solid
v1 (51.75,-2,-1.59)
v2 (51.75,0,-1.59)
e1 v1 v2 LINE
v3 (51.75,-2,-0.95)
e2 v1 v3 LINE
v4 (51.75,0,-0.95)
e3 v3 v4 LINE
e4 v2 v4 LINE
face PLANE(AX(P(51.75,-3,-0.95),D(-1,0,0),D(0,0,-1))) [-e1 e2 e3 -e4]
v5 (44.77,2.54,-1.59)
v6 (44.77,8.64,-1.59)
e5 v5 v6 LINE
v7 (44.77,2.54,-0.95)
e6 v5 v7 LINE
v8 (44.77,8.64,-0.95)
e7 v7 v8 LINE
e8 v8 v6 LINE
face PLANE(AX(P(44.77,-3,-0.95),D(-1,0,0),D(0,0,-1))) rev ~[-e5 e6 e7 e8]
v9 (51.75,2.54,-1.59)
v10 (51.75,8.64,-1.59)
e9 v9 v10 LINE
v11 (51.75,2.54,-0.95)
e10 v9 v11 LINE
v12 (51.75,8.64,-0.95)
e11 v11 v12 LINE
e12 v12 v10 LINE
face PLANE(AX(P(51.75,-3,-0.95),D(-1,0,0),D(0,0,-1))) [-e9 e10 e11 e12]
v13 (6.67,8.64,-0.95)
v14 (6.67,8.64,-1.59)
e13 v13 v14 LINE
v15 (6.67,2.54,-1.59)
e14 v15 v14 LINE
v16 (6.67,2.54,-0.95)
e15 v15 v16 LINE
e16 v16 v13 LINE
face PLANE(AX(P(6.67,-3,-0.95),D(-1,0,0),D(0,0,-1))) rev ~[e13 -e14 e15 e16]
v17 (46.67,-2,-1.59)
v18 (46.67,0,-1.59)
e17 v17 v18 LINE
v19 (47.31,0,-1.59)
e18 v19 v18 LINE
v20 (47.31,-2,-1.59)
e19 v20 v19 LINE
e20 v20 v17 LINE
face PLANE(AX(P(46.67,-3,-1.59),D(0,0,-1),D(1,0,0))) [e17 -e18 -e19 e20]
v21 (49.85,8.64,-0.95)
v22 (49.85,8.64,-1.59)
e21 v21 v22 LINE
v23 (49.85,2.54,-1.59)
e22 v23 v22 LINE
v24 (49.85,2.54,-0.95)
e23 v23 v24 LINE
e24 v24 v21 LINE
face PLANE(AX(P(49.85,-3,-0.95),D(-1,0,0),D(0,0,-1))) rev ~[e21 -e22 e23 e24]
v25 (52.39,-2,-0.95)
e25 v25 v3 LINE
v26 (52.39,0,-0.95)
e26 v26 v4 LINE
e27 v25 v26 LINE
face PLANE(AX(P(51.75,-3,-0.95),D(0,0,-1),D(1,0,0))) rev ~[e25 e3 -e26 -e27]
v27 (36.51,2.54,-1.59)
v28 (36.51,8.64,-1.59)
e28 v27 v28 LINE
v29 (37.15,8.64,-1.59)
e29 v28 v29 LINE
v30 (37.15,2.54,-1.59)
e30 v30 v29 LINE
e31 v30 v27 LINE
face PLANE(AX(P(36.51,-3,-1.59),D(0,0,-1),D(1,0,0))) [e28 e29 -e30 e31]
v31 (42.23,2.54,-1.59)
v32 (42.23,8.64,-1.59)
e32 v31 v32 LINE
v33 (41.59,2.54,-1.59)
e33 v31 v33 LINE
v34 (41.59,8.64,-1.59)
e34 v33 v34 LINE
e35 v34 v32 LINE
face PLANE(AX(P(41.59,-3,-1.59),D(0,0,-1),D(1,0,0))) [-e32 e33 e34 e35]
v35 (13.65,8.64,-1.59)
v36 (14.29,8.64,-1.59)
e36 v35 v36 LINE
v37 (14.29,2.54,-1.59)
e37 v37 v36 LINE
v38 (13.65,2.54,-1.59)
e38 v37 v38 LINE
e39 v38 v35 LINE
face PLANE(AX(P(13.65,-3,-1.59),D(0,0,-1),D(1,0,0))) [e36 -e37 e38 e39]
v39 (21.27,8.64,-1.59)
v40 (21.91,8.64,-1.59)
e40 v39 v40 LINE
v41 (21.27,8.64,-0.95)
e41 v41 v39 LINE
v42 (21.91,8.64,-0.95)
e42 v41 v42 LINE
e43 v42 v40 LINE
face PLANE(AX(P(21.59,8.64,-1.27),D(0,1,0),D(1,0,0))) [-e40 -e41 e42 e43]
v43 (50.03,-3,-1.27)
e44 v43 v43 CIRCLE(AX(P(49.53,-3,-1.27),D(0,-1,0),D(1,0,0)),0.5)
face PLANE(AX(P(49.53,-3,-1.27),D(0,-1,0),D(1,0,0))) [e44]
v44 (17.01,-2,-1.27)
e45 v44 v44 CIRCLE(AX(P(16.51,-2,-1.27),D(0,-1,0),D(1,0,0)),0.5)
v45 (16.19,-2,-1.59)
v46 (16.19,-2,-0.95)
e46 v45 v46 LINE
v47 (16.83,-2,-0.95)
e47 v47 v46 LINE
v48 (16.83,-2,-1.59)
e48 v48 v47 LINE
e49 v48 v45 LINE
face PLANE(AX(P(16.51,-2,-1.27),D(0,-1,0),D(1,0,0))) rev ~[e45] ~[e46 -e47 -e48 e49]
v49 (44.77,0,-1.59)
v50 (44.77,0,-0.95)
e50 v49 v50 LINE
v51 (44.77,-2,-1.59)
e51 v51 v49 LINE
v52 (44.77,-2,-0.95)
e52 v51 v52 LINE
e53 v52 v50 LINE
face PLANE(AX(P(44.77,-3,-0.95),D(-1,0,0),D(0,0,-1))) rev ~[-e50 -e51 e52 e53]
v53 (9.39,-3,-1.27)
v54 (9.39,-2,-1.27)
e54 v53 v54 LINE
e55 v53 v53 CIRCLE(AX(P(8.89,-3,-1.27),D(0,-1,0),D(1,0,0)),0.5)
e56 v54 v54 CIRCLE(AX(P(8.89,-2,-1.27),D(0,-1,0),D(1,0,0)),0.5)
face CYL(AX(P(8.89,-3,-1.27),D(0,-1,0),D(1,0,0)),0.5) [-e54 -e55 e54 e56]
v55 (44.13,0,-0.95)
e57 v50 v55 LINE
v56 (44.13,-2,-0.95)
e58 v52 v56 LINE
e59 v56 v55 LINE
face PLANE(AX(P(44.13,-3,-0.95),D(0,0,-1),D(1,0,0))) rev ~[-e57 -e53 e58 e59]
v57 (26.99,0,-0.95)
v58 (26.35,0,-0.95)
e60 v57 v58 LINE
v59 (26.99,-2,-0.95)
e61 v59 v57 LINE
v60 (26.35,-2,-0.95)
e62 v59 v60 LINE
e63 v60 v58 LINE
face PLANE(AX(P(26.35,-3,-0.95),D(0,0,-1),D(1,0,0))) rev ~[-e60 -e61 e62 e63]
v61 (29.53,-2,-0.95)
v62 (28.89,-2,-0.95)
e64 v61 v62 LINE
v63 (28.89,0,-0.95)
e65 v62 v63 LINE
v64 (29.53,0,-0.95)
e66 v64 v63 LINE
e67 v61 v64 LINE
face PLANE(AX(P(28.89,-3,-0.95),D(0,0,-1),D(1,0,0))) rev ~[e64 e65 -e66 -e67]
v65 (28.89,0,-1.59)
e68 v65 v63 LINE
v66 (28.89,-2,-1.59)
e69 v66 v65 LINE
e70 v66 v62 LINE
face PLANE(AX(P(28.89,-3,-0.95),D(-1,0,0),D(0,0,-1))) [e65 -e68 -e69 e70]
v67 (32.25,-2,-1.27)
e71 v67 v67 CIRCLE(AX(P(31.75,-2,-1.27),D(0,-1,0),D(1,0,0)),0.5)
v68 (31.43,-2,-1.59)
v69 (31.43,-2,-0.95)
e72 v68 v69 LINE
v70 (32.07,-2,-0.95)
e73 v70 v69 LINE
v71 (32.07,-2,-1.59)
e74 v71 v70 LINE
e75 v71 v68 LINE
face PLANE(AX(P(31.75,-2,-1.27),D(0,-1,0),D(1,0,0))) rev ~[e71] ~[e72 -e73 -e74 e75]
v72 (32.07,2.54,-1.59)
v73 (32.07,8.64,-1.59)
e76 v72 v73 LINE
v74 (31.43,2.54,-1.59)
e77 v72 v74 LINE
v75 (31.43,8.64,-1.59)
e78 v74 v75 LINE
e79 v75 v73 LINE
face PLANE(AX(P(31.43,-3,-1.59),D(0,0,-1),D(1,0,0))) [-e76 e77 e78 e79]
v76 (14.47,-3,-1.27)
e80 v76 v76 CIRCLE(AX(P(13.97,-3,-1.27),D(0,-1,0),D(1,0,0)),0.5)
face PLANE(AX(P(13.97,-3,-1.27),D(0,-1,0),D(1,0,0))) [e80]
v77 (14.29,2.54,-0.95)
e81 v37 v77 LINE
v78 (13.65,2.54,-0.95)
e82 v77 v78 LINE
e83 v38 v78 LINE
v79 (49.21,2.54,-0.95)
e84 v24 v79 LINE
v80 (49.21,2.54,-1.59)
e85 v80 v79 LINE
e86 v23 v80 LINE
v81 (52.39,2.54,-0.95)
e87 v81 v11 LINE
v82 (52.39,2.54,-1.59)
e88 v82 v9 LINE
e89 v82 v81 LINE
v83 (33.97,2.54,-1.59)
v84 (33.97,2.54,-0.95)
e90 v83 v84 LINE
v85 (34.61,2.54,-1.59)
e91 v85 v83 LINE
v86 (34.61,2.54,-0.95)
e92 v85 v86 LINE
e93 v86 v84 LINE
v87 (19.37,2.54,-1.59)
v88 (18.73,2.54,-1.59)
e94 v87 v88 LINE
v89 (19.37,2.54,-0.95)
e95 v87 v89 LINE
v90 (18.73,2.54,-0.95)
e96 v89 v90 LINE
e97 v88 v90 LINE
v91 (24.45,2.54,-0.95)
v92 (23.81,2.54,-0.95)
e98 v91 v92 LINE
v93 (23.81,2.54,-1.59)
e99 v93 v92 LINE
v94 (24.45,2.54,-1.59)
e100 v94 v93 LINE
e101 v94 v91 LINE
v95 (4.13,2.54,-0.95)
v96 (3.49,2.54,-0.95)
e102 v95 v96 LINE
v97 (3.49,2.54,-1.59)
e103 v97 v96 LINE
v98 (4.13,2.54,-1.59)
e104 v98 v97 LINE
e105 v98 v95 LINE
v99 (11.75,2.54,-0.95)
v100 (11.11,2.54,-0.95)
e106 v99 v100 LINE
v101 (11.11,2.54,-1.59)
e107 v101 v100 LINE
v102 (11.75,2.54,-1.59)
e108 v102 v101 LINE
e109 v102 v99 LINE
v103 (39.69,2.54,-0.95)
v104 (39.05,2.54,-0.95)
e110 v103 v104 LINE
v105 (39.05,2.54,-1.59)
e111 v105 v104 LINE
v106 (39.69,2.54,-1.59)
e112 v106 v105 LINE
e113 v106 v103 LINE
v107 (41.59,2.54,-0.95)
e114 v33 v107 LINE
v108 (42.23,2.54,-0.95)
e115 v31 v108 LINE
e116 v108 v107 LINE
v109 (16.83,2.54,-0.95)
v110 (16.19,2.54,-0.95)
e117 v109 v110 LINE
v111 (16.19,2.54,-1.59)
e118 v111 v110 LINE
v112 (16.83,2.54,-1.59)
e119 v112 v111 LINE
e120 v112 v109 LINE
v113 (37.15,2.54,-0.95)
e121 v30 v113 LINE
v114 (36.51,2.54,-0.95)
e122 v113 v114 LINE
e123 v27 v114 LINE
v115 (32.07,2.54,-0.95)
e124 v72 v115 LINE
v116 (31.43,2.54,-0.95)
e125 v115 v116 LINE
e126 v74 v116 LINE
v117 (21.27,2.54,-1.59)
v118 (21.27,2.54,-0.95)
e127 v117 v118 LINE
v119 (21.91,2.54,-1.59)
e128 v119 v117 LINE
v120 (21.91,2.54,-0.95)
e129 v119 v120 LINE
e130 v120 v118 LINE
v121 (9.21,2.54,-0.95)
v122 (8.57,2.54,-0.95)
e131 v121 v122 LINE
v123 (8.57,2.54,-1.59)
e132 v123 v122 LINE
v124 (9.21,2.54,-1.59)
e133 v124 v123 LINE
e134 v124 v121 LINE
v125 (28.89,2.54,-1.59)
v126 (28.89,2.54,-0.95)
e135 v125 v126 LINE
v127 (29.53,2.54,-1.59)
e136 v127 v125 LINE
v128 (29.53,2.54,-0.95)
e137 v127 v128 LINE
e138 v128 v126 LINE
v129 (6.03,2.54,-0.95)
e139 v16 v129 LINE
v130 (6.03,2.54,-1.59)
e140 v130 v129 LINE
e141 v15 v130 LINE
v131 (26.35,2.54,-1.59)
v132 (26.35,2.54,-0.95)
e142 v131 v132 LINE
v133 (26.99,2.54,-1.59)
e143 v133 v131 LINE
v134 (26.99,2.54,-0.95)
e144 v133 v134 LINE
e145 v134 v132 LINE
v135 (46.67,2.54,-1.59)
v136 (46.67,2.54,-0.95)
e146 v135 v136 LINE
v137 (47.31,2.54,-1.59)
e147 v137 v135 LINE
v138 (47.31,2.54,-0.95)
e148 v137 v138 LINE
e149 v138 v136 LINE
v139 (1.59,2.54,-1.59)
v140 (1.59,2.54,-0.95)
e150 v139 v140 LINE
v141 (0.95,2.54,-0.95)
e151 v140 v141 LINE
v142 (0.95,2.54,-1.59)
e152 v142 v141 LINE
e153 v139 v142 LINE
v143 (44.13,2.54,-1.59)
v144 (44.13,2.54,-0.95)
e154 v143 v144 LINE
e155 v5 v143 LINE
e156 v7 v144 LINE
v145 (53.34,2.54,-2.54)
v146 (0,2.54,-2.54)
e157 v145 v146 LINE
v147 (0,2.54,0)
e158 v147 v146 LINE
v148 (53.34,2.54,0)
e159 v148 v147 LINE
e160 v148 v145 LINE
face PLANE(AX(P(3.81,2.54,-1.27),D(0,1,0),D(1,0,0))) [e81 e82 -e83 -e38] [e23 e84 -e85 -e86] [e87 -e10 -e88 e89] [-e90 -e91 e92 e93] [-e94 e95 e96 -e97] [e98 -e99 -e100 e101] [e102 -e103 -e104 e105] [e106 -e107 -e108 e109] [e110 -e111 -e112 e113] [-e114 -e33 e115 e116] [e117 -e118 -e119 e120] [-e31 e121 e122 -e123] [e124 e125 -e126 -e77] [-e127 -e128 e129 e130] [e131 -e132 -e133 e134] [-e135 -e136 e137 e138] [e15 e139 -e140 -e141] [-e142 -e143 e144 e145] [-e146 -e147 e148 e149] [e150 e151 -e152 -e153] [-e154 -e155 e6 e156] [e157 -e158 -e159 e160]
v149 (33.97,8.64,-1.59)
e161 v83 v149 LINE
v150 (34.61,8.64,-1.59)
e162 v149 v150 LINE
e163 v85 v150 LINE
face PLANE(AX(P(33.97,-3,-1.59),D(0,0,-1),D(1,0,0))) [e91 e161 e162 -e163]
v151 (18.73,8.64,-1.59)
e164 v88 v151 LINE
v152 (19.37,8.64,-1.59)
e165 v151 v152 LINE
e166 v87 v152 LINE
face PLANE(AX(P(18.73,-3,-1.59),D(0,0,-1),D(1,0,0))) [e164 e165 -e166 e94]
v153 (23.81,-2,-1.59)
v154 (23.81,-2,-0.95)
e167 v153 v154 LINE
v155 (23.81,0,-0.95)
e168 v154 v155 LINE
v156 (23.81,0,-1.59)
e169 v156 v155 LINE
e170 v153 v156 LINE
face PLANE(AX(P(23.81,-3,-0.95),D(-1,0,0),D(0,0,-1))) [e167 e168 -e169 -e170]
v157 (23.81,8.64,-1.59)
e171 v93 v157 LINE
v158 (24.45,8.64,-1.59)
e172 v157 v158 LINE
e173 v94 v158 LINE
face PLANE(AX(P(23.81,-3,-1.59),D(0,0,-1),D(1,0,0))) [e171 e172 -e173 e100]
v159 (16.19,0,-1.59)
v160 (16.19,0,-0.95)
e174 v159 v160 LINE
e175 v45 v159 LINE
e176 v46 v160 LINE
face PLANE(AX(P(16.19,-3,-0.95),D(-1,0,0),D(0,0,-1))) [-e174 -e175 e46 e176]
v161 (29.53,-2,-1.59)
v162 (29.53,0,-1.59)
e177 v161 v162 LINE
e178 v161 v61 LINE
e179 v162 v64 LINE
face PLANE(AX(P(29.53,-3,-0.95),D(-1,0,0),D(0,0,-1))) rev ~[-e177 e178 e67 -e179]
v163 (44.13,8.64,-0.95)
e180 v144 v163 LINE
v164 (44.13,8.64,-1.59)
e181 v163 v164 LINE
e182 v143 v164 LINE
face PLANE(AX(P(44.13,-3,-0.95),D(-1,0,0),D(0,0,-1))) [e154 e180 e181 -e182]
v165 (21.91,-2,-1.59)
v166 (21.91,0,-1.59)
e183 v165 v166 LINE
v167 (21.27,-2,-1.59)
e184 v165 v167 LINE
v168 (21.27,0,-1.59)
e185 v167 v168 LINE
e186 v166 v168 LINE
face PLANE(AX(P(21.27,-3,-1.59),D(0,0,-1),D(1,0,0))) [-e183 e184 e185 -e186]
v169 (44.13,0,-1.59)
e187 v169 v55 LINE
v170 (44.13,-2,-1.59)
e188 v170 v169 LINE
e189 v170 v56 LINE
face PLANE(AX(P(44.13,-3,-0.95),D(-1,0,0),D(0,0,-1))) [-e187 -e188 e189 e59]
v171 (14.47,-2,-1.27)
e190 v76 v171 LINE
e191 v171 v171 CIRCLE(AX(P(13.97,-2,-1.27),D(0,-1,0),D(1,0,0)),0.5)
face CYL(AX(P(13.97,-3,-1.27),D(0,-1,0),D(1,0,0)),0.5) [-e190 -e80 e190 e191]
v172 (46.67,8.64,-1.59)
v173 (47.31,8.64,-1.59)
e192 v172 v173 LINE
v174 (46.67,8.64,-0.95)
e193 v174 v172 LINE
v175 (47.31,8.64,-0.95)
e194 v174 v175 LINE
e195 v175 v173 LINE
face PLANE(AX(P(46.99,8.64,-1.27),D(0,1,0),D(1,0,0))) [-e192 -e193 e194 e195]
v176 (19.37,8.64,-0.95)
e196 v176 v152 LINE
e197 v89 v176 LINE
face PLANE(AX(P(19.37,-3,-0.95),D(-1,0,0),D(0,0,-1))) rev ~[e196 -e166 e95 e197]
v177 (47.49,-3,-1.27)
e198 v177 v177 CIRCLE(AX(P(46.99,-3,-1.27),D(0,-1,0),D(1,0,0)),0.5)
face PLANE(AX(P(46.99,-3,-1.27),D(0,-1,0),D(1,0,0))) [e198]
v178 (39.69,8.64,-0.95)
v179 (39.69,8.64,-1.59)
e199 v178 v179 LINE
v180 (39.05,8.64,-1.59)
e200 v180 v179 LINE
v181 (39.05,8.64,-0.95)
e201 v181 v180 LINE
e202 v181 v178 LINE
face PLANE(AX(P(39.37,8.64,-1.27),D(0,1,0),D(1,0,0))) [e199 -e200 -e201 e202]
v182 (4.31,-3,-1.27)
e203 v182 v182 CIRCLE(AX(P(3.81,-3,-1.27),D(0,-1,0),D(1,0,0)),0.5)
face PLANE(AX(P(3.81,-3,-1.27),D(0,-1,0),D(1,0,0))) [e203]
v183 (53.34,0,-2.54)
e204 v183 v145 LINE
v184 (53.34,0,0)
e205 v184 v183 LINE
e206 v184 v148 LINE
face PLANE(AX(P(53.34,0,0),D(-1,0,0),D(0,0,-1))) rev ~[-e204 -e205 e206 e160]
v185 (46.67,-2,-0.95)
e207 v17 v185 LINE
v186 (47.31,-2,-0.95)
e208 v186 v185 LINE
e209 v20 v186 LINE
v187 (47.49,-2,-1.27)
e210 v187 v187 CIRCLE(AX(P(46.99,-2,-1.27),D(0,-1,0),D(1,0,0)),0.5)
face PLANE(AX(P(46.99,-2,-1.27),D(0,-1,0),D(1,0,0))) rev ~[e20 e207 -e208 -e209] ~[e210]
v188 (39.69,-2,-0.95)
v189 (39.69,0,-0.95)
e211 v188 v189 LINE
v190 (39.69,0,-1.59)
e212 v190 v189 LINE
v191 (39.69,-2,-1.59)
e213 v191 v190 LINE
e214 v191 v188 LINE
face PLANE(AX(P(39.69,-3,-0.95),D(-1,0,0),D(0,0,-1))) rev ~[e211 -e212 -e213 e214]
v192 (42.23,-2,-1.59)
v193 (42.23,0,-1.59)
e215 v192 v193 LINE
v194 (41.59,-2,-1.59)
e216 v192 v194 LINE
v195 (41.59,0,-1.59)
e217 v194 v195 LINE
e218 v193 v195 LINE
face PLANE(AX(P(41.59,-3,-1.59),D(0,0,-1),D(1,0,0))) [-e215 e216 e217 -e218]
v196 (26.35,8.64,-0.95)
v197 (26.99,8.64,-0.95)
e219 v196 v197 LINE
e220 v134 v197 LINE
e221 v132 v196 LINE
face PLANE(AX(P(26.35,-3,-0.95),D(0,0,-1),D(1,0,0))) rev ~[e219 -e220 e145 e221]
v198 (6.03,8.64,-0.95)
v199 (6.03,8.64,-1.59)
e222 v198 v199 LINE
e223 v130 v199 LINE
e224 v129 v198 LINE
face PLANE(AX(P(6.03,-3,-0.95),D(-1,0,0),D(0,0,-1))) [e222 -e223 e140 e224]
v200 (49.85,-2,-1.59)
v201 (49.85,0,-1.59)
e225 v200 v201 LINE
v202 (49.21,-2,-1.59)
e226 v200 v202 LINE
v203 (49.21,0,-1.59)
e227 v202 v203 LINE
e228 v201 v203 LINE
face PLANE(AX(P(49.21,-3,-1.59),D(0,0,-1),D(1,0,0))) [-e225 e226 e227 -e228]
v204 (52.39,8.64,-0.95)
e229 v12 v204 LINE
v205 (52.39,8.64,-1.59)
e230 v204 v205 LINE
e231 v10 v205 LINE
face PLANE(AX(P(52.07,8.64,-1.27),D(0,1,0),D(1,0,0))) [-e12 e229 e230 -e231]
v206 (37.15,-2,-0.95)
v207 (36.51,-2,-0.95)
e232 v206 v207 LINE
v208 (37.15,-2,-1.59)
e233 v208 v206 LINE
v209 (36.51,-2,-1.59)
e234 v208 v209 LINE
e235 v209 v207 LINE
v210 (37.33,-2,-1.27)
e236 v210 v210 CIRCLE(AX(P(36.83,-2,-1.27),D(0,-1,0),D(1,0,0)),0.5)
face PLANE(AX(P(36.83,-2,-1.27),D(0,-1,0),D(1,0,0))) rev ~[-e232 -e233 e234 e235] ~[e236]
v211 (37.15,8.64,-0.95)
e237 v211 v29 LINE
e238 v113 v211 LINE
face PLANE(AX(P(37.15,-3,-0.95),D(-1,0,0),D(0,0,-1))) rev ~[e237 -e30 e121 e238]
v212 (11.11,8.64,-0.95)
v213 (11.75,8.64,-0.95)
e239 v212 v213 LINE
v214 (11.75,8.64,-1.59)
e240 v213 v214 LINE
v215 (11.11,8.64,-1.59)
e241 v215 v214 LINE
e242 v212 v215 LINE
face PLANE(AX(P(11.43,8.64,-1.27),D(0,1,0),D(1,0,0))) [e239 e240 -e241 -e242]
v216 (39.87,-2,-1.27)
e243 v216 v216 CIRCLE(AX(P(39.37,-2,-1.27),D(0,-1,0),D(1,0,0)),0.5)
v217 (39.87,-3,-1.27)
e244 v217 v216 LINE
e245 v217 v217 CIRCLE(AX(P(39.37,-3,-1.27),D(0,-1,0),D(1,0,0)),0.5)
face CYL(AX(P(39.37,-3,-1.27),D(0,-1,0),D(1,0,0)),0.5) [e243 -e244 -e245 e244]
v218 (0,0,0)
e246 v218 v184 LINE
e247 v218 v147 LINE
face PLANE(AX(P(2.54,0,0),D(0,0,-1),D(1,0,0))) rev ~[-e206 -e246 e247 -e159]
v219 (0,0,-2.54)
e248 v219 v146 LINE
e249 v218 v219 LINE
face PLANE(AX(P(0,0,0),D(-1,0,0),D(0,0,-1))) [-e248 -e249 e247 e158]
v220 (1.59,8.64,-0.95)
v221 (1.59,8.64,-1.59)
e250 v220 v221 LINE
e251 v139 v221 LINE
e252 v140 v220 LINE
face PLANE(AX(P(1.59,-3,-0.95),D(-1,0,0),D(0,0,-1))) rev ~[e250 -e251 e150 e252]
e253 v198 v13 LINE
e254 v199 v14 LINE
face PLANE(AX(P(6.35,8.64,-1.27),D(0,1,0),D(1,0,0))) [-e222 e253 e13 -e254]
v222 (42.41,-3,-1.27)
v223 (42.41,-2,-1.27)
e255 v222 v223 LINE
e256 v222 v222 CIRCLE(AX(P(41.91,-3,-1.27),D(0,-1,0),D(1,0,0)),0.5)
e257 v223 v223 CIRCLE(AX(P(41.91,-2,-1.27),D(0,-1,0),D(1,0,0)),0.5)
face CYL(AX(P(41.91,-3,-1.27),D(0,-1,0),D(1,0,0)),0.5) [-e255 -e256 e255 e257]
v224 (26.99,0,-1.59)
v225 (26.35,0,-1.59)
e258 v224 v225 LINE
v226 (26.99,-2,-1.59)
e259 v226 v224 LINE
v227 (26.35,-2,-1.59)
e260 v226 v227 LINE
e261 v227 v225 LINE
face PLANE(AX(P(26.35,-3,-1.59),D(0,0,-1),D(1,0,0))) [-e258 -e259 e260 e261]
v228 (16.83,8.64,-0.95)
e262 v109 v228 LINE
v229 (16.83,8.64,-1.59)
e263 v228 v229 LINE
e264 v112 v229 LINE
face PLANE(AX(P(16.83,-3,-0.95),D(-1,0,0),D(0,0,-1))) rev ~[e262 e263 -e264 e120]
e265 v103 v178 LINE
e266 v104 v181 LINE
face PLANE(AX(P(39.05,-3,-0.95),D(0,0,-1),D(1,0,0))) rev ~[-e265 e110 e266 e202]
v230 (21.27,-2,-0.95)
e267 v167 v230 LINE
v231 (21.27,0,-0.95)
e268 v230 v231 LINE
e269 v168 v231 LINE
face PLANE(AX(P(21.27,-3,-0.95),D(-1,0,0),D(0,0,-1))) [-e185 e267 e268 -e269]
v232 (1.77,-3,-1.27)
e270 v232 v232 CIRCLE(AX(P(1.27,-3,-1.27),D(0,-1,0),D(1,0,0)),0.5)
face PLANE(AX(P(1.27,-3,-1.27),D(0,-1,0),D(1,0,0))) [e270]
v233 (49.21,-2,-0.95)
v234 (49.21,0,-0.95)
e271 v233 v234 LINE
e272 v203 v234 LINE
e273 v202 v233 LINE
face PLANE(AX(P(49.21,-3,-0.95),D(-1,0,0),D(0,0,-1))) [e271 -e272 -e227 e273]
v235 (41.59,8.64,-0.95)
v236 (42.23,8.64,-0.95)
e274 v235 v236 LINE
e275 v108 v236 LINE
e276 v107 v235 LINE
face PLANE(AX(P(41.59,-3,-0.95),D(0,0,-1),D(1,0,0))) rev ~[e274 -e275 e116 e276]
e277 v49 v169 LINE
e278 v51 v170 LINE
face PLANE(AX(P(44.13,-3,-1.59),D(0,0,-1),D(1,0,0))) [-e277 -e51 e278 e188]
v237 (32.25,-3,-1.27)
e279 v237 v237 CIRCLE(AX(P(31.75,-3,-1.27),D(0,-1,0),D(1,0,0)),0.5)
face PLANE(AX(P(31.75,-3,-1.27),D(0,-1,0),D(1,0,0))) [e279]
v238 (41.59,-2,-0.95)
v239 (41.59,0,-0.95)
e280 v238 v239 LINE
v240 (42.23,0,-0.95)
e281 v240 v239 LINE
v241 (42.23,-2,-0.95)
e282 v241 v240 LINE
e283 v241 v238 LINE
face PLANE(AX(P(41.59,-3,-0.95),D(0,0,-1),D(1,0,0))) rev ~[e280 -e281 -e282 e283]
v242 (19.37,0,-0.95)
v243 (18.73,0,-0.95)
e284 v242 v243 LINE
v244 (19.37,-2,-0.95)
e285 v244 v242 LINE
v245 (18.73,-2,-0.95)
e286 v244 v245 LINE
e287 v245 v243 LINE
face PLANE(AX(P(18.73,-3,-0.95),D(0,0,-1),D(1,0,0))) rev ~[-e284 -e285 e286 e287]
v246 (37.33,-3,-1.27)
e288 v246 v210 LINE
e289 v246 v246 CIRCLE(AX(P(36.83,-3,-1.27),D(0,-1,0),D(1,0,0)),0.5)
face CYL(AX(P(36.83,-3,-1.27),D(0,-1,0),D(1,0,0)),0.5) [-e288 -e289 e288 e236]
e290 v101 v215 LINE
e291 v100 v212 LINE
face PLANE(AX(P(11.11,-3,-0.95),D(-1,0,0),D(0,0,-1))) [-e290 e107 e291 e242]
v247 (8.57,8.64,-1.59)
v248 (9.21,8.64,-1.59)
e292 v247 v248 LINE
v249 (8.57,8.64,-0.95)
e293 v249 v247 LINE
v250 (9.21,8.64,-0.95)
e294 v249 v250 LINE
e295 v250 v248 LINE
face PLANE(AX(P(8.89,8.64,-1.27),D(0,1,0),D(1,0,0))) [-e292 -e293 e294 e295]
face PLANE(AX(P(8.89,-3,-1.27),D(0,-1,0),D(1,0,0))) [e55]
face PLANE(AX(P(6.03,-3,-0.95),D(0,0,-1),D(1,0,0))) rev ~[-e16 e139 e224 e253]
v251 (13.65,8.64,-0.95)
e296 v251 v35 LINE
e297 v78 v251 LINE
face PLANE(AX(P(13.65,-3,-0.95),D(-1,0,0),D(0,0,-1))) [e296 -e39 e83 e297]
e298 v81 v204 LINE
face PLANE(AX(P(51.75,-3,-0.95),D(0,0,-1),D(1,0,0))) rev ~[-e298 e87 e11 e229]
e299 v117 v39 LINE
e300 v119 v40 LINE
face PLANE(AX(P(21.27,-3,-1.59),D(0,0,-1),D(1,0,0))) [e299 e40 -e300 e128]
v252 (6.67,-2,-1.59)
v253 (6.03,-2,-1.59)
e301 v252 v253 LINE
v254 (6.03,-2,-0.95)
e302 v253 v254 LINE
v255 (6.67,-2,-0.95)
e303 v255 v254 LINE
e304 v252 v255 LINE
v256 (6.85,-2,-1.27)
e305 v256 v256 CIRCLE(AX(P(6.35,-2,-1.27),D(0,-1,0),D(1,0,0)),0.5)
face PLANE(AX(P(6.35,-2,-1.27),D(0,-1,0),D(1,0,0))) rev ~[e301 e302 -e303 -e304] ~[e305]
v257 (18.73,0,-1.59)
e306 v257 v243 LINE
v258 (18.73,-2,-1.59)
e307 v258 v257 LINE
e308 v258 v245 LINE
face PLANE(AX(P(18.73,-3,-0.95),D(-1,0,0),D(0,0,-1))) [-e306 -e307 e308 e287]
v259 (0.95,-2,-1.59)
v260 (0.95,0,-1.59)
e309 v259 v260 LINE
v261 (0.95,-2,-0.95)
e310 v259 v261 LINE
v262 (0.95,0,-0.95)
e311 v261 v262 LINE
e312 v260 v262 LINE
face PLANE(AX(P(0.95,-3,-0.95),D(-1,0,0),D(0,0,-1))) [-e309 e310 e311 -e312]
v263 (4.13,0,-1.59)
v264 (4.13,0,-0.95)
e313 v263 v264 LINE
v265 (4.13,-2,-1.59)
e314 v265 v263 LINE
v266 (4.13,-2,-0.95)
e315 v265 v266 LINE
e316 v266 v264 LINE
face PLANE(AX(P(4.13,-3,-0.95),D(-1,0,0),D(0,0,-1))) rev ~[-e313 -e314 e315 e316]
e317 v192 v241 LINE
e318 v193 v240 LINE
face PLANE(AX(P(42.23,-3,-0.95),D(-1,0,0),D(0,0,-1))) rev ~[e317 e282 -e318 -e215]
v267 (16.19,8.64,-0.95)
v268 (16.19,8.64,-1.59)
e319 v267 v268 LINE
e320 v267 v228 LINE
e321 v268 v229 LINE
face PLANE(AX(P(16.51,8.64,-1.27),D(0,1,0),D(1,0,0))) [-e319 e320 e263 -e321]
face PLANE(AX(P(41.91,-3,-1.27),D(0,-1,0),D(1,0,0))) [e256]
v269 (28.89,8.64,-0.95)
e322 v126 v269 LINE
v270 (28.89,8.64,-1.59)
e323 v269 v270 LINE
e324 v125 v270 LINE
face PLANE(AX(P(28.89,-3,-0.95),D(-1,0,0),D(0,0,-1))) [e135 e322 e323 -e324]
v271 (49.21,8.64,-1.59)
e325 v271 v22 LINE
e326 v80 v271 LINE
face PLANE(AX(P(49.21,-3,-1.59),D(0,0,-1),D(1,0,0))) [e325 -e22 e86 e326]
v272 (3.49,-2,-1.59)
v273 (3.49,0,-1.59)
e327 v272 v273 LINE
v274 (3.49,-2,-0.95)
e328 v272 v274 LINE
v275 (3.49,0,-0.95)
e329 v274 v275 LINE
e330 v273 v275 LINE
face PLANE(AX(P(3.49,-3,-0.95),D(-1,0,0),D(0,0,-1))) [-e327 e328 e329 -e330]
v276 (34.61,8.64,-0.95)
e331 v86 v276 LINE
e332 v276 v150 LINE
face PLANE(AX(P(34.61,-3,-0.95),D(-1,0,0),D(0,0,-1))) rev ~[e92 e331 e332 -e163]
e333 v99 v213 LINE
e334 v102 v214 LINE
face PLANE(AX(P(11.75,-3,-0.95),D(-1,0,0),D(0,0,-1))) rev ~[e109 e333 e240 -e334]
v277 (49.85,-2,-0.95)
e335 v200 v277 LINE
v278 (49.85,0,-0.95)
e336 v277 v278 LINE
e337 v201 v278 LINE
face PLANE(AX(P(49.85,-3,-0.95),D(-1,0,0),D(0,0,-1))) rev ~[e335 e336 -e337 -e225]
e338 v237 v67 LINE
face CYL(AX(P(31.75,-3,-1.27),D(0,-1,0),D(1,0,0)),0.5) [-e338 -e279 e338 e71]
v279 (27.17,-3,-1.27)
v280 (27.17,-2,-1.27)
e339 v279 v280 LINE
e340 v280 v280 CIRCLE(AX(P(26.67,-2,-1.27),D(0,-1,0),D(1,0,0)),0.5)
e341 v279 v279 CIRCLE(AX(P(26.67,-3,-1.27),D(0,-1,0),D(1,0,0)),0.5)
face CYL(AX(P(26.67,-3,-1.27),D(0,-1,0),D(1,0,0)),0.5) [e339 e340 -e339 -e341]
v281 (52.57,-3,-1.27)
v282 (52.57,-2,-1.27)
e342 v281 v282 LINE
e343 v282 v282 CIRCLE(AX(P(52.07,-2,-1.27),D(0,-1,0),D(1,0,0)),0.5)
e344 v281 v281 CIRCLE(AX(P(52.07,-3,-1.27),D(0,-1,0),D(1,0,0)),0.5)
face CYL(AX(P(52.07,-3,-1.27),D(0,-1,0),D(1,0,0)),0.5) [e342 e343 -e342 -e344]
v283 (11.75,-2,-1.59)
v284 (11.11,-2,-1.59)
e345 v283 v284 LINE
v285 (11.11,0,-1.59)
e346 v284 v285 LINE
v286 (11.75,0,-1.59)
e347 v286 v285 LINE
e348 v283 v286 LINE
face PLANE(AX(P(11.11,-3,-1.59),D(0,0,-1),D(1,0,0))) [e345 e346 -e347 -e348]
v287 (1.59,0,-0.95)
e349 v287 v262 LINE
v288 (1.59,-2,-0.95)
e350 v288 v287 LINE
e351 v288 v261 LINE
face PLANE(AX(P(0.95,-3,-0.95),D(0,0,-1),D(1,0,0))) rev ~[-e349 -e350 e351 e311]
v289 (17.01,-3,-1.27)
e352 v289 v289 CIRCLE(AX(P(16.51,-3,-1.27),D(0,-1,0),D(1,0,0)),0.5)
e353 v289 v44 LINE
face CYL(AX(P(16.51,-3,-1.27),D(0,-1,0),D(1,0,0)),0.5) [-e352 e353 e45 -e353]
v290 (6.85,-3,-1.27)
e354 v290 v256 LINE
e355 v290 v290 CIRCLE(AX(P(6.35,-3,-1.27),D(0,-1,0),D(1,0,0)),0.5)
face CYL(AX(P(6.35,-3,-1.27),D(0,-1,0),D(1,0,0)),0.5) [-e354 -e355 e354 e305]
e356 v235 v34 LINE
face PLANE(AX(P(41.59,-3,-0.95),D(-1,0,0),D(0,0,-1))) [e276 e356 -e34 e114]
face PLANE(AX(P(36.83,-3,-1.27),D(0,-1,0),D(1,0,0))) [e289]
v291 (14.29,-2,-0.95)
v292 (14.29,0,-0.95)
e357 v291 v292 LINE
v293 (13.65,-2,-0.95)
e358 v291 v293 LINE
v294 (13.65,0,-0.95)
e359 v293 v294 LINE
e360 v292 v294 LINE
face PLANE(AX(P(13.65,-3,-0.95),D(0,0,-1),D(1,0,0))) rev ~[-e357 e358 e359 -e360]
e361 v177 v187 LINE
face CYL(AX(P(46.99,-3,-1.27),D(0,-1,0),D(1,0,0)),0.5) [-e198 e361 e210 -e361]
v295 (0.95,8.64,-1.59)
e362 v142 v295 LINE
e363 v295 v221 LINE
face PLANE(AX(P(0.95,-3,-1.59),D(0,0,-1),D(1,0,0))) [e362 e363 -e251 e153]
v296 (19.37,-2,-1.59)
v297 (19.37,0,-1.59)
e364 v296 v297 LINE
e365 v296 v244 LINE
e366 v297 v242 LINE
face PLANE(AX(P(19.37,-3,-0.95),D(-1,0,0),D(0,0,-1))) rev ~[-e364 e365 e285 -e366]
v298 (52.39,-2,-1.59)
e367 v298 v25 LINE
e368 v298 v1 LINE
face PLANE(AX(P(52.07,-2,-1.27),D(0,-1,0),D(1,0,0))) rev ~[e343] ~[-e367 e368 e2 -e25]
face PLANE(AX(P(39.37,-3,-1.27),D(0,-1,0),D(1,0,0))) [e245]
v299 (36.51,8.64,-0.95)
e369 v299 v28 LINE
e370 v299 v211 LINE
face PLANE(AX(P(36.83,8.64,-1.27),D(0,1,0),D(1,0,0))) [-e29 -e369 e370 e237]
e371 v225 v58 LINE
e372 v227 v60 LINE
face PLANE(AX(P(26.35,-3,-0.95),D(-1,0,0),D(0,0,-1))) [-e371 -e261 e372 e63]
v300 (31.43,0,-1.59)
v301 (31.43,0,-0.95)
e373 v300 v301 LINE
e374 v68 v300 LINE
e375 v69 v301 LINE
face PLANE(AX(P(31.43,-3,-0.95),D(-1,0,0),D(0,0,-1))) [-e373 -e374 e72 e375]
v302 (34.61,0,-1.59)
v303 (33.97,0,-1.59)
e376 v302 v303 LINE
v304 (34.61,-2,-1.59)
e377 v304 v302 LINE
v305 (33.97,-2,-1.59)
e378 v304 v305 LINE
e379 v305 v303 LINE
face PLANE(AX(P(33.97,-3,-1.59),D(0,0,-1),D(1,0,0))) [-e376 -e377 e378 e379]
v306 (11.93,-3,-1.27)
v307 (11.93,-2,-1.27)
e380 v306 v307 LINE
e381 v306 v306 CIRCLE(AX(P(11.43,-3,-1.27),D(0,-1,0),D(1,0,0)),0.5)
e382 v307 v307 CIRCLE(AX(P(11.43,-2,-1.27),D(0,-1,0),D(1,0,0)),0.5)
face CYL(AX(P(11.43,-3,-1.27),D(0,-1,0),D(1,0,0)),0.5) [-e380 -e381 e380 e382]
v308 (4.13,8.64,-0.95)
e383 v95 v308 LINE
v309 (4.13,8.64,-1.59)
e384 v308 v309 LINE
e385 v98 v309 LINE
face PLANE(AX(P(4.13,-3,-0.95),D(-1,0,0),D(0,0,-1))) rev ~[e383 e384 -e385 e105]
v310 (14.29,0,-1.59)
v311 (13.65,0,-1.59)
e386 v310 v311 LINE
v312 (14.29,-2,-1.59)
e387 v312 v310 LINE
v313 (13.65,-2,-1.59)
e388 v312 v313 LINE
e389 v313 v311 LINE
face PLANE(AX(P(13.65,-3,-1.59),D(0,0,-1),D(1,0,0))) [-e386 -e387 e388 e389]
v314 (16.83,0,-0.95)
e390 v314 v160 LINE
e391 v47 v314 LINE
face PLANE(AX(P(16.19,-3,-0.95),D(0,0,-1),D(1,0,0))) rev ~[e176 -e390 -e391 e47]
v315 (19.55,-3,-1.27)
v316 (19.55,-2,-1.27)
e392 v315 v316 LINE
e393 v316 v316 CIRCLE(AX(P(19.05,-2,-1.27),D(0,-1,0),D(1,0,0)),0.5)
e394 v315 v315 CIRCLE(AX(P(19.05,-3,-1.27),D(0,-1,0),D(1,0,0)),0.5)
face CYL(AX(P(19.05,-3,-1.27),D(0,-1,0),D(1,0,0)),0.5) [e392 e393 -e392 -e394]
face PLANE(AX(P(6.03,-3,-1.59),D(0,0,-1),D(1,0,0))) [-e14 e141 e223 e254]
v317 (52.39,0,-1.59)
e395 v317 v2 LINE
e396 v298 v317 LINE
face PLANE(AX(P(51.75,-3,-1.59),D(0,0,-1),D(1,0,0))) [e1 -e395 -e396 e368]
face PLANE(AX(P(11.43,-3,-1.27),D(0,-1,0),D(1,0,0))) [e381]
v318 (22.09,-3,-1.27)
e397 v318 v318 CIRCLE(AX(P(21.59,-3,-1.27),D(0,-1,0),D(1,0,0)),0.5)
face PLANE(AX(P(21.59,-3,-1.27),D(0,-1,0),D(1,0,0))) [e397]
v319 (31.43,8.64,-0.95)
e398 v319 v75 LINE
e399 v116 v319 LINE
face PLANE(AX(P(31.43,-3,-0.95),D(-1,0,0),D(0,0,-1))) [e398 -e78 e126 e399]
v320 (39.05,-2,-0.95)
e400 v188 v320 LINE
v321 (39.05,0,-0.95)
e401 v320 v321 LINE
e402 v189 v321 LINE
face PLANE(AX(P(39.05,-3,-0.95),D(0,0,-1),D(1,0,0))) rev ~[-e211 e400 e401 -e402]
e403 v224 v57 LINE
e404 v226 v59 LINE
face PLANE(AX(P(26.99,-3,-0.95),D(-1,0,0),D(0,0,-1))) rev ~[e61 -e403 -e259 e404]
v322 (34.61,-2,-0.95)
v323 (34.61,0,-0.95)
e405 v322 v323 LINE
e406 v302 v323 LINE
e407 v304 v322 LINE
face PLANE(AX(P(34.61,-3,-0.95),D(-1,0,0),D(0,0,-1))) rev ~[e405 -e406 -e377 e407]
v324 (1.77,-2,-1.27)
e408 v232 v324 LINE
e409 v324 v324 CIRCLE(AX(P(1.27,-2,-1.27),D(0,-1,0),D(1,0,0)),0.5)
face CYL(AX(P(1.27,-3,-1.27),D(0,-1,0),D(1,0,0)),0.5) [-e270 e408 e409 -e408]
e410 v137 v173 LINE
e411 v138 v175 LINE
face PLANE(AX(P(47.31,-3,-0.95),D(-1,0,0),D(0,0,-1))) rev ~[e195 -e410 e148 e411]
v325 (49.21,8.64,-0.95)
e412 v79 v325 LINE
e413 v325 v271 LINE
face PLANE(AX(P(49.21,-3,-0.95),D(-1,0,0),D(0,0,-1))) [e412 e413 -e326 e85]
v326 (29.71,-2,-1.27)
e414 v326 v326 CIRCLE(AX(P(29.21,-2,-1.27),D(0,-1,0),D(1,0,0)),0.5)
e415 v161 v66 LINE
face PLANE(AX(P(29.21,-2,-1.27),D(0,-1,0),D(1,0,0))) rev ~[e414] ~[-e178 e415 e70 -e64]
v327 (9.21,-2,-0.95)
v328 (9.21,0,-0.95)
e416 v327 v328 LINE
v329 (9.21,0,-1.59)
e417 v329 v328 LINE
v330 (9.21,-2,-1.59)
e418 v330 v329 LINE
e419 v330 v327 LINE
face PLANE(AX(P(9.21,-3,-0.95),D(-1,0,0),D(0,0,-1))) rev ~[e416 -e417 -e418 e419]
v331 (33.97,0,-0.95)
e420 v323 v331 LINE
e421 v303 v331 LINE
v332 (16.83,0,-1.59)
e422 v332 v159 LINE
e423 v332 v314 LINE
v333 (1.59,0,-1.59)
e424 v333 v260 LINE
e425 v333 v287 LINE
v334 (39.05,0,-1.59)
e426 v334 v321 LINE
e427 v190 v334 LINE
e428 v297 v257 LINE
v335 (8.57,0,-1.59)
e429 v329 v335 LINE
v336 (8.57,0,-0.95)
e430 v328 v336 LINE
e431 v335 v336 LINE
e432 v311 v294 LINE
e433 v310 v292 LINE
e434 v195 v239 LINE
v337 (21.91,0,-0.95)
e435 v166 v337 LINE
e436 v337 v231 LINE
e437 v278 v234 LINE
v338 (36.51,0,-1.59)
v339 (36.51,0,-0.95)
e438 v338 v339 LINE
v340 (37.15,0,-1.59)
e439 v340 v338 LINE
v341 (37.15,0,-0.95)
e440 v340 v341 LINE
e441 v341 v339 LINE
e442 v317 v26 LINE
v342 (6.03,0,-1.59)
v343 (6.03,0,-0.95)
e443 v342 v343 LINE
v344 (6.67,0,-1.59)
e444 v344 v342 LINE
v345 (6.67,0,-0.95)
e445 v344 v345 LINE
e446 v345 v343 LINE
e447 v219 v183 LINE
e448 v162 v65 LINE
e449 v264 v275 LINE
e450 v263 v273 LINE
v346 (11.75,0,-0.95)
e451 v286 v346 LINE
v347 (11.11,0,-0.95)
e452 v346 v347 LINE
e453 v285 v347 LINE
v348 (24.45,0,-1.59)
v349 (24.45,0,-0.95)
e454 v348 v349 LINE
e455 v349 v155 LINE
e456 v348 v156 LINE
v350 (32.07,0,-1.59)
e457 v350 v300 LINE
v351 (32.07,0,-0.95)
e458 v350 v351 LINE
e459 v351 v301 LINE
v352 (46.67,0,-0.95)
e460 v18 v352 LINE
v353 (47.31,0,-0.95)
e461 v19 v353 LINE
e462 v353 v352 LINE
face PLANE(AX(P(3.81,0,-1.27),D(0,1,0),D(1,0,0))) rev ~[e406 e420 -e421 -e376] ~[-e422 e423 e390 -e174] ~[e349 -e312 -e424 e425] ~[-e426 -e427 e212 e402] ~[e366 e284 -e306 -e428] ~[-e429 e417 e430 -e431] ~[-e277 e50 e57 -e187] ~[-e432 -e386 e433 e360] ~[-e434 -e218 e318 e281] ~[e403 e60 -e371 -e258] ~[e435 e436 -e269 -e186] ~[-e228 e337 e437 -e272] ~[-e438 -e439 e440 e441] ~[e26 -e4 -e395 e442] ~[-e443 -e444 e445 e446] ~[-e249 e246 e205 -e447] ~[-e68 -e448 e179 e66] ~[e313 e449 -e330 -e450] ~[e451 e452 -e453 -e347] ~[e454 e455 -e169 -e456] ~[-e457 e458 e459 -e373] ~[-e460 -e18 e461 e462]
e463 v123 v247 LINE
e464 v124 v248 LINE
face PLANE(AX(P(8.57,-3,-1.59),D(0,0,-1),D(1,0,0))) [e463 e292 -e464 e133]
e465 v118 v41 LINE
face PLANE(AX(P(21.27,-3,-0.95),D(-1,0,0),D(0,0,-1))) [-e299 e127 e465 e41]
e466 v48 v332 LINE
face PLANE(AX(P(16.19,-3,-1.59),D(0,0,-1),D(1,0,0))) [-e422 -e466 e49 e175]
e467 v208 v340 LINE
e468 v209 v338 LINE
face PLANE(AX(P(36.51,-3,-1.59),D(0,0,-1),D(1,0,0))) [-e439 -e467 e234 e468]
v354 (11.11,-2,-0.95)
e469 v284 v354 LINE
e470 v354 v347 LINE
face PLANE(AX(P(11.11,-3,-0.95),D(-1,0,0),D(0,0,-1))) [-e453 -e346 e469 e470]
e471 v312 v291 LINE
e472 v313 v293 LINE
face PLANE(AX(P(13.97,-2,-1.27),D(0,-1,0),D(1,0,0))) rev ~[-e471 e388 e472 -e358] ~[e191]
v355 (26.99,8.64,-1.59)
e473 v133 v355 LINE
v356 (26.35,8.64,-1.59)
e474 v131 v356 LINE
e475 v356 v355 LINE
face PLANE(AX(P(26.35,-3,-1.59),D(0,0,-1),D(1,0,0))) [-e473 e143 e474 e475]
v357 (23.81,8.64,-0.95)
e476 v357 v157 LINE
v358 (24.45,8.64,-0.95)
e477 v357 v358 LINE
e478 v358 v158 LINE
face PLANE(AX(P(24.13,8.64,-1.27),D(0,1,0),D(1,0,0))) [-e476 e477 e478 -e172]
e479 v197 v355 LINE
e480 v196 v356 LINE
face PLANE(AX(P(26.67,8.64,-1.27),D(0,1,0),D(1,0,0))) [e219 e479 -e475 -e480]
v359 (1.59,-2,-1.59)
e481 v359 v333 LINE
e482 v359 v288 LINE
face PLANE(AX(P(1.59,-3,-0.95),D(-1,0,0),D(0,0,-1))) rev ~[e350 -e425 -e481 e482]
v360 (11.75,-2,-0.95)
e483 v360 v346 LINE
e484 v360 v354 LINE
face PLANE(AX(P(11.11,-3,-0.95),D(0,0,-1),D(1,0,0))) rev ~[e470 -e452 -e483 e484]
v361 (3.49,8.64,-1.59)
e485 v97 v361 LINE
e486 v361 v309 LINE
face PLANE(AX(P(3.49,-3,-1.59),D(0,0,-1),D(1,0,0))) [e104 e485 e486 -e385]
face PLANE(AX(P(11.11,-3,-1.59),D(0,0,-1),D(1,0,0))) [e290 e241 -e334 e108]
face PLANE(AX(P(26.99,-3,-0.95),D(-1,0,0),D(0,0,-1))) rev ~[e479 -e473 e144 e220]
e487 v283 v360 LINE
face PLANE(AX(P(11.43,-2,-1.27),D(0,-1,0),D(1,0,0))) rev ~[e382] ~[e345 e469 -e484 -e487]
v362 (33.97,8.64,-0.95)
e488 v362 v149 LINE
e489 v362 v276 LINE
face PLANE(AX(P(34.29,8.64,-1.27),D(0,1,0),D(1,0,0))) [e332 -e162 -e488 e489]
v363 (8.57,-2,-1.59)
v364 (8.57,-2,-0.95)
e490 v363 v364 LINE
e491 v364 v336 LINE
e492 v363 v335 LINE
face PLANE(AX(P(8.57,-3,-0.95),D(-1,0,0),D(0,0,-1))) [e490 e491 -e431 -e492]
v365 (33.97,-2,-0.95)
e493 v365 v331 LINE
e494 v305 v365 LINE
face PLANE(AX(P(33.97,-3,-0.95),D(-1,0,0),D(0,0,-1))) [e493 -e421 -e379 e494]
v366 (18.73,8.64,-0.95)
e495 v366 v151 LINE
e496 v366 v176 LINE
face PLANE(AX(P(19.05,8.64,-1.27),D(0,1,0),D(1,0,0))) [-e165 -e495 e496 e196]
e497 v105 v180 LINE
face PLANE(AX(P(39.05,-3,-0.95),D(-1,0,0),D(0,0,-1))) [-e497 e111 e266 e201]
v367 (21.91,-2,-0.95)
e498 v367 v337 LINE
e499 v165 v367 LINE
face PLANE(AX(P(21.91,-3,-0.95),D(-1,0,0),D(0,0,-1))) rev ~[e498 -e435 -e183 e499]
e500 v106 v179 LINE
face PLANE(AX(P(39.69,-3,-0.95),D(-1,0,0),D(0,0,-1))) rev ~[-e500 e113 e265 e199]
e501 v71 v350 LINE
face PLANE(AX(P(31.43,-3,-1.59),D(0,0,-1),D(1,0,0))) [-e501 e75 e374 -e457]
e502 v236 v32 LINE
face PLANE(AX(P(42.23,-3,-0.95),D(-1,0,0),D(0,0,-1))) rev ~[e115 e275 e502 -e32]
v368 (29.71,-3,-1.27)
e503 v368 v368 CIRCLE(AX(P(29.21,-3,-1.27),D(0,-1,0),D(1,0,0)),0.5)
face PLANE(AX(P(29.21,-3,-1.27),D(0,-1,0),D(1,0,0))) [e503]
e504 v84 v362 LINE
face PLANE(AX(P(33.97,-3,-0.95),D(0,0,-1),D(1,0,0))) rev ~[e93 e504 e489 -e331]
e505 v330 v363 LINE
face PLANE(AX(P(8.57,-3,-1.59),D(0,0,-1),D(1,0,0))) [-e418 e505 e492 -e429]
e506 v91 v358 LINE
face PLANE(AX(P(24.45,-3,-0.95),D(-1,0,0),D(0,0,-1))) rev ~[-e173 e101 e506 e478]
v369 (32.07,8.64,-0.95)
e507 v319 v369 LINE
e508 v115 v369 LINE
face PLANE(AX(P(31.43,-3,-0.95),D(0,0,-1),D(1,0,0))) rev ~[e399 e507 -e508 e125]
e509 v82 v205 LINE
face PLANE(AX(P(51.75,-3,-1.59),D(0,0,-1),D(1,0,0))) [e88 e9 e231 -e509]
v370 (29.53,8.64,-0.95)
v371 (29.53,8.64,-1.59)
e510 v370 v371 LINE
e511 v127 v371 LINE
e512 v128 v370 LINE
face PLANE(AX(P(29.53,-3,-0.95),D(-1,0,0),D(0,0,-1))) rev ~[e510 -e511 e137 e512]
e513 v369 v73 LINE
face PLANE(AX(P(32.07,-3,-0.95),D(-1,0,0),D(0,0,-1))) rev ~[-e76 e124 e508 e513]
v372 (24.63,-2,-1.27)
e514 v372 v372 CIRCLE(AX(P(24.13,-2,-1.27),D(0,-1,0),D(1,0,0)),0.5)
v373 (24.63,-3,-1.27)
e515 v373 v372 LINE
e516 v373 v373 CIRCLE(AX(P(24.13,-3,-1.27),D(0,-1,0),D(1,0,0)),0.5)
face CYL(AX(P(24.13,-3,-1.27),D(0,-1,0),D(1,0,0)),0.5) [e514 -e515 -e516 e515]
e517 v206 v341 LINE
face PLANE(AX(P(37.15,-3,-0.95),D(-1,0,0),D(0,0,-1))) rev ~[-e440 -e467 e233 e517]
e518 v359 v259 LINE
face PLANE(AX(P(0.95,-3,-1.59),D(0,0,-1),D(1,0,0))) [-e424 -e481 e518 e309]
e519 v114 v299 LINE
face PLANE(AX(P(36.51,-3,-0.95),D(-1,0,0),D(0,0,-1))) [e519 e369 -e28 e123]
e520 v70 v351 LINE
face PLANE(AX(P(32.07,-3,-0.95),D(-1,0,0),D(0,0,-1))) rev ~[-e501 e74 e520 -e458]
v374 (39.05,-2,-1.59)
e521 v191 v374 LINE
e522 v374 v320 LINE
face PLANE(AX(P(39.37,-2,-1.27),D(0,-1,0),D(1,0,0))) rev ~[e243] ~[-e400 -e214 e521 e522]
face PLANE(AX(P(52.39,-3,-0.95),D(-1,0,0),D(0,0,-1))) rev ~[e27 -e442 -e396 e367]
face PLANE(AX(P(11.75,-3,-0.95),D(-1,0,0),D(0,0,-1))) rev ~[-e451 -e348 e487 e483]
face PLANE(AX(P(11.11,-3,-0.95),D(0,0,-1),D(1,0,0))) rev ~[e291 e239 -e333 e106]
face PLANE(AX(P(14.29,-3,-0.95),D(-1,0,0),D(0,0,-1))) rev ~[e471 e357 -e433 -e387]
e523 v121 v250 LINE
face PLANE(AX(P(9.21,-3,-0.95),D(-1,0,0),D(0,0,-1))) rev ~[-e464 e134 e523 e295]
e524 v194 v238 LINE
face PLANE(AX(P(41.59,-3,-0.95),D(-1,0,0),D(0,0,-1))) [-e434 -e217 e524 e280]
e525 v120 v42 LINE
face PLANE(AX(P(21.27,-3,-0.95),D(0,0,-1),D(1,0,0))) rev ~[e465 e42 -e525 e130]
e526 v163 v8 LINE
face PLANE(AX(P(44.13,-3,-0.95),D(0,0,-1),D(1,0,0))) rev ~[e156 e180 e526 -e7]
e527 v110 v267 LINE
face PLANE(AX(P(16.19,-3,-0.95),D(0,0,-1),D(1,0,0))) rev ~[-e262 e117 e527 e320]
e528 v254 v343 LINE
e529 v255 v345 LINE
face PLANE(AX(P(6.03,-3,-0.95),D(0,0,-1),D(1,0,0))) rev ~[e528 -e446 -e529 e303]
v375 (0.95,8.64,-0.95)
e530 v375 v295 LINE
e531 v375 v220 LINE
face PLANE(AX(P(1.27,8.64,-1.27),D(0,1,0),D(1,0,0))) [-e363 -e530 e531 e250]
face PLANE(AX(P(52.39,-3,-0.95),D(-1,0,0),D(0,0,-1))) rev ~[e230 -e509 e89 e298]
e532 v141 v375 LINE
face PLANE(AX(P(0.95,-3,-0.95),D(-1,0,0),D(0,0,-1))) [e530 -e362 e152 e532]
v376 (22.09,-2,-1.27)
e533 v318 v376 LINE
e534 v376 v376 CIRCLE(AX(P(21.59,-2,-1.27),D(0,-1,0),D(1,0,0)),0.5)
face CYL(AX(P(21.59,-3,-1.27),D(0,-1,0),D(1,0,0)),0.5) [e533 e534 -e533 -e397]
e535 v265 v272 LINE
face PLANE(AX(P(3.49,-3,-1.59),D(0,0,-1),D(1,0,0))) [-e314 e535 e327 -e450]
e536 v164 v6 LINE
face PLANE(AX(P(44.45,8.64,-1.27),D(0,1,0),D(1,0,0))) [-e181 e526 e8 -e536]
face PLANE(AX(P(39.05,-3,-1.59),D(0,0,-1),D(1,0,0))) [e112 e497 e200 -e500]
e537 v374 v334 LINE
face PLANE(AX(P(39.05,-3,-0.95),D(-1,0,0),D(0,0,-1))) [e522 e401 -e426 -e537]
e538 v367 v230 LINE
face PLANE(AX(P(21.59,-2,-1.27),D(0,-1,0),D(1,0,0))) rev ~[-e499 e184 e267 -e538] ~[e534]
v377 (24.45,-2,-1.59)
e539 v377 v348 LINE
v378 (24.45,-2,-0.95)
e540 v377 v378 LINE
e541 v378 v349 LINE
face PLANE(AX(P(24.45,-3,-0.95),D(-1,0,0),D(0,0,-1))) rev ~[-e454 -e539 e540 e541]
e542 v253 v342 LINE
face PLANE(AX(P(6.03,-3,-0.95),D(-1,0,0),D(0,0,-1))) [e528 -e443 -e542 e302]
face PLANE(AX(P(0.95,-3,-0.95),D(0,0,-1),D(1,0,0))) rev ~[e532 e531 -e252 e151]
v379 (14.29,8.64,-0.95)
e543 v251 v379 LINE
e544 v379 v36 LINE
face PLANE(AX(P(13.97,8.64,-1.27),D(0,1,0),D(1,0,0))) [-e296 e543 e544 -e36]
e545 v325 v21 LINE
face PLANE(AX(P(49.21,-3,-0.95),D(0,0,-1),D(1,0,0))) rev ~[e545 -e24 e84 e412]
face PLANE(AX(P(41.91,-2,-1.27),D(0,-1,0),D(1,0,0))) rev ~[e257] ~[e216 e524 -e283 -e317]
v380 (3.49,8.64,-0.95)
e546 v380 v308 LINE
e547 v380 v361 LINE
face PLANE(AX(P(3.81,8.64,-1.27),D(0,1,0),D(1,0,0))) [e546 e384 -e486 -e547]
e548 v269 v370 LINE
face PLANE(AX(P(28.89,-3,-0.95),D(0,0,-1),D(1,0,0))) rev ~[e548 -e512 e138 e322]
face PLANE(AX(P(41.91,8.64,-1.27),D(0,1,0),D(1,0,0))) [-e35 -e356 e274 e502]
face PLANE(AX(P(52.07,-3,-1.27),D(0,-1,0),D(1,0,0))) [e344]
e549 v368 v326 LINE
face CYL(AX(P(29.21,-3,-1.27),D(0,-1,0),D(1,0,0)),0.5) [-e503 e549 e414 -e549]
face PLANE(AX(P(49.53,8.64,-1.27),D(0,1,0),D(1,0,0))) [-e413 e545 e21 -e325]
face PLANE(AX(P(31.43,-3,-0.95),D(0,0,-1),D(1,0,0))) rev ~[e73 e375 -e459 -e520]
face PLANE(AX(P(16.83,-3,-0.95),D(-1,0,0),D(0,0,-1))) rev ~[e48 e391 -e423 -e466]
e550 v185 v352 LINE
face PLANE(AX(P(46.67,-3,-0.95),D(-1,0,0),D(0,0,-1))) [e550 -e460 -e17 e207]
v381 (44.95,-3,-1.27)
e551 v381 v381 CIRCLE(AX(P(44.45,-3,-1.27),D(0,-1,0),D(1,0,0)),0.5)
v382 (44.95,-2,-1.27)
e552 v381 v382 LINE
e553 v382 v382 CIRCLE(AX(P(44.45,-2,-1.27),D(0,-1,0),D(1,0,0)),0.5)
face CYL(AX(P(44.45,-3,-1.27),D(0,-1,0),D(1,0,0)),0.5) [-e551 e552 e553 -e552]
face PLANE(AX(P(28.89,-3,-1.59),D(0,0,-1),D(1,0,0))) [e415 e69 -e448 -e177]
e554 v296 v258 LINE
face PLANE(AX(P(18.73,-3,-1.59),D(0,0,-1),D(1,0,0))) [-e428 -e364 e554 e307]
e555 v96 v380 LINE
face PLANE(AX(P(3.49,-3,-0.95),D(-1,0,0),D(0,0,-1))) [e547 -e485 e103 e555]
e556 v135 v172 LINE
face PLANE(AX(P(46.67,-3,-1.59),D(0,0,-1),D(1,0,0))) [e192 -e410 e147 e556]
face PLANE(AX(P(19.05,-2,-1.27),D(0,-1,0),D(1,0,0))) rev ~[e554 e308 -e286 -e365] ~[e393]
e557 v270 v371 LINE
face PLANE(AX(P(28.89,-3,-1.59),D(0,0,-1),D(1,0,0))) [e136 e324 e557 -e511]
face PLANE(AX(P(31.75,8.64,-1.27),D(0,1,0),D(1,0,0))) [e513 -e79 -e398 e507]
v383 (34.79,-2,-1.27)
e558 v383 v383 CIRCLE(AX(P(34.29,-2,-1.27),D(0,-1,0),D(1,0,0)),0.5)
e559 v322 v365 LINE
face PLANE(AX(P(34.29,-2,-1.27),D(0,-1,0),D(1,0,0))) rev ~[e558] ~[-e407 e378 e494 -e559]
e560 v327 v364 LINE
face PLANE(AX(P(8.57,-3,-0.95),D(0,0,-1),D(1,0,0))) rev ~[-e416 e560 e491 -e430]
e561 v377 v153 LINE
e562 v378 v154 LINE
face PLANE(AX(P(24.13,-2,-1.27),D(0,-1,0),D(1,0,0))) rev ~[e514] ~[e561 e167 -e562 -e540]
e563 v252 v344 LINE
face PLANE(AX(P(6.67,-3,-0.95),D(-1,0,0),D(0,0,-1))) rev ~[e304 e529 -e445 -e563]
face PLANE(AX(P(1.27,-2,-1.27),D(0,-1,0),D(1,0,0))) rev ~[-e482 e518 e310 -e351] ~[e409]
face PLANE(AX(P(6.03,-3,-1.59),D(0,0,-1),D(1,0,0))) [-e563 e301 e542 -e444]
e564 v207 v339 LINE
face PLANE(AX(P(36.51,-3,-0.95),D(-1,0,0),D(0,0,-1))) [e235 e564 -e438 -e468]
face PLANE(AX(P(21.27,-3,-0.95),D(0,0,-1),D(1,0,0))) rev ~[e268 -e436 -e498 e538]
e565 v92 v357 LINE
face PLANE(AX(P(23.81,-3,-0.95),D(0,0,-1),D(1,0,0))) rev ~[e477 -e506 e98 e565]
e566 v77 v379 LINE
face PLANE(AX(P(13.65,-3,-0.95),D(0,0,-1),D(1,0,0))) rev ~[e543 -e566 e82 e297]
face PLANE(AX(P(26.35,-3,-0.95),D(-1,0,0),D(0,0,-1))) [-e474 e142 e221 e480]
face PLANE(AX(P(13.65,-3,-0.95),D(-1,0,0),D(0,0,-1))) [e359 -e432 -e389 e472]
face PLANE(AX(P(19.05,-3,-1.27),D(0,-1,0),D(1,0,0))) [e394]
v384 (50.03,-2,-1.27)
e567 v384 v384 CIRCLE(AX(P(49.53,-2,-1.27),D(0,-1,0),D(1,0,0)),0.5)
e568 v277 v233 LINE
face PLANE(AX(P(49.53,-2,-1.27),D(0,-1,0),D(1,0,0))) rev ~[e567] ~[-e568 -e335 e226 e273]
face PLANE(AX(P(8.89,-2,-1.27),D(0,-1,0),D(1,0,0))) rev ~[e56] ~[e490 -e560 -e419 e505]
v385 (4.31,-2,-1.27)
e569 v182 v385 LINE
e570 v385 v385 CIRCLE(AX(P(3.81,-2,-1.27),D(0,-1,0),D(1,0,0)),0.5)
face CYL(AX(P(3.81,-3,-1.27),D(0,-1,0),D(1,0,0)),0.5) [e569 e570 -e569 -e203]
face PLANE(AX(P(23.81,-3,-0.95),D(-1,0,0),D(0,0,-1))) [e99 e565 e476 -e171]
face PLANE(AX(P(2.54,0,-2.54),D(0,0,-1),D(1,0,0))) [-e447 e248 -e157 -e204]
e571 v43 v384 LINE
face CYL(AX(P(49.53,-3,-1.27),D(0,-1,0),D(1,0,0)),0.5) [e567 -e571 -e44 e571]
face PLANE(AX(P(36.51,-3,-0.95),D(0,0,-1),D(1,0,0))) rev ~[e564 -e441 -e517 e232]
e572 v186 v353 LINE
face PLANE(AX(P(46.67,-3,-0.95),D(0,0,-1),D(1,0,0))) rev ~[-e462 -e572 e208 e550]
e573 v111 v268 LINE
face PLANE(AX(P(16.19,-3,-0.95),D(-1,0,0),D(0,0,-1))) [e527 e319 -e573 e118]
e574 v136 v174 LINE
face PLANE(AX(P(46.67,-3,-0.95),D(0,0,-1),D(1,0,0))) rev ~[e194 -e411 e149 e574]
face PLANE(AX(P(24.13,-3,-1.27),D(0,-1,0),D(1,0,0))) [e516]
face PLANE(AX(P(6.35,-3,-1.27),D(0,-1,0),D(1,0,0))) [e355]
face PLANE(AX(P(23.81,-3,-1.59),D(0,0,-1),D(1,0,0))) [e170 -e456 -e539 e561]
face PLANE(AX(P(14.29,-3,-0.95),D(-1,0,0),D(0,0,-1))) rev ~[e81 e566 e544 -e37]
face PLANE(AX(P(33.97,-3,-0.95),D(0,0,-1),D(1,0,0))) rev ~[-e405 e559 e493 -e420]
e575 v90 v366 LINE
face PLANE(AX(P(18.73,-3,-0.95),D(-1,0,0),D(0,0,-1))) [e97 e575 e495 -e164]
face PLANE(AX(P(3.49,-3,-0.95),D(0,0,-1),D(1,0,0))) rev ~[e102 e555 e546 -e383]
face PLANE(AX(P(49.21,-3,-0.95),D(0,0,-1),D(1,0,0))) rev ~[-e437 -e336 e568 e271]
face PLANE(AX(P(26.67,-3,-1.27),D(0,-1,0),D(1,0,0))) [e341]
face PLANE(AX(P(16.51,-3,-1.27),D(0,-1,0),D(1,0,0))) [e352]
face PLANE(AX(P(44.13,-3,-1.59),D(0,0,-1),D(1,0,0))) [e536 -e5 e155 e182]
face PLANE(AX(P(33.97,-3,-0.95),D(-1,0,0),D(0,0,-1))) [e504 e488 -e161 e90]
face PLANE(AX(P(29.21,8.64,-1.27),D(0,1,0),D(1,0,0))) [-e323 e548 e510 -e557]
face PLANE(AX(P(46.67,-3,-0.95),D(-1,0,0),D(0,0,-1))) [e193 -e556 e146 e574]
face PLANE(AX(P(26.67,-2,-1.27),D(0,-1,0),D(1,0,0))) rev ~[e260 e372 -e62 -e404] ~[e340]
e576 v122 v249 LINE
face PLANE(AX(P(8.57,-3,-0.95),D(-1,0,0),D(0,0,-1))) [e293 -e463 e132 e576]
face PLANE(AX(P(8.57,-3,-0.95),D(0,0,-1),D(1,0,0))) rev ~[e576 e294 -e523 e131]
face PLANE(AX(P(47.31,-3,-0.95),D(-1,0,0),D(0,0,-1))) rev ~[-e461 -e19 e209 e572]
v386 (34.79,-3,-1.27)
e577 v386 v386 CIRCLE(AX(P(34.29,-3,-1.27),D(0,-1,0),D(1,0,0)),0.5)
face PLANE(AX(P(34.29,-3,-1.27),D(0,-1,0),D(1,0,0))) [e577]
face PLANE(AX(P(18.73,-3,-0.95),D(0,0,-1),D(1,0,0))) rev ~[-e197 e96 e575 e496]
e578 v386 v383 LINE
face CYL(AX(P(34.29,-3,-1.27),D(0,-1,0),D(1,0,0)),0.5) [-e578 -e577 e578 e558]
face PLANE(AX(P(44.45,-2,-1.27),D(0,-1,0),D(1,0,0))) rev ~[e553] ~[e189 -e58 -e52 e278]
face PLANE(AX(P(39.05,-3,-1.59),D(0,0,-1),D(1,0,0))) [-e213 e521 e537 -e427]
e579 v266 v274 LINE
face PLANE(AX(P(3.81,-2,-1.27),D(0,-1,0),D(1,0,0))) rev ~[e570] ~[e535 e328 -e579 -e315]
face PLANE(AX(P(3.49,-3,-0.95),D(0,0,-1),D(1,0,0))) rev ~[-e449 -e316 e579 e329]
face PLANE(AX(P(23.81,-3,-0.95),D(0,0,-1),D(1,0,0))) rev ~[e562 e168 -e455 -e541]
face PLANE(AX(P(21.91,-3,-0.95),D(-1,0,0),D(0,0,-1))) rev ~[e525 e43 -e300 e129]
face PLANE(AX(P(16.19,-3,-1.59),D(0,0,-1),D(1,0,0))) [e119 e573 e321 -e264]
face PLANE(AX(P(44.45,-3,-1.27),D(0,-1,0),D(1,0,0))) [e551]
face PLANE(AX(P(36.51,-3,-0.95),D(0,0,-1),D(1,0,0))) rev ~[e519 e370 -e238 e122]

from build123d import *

# Parameters (mm, degrees)
SKETCH1_W           = 2.54
SKETCH1_H           = 2.54
BOSS_EXTRUDE1_DEPTH = 2.54
BOSS_EXTRUDE2_START = -5.54
SKETCH2_W           = 0.64
SKETCH2_H           = 0.64
BOSS_EXTRUDE2_DEPTH = 11.64
SKETCH3_R           = 0.5
BOSS_EXTRUDE3_DEPTH = 1
LPATTERN1_COUNT     = 21
LPATTERN1_PITCH     = 2.54


with BuildPart() as part:
    # Sketch1 → Boss-Extrude1 (new body)
    with BuildSketch(Plane(origin=(0, 0, 0), x_dir=(1, 0, 0), z_dir=(0, 1, 0))):
        with Locations((1.27, 1.27)):
            Rectangle(SKETCH1_W, SKETCH1_H)
    boss_extrude1 = extrude(amount=BOSS_EXTRUDE1_DEPTH)

    # Sketch2 → Boss-Extrude2 (add)
    with BuildSketch(Plane(origin=(0, 2.54, 0), x_dir=(1, 0, 0), z_dir=(0, 1, 0)).offset(BOSS_EXTRUDE2_START)):
        with Locations((1.27, 1.27)):
            Rectangle(SKETCH2_W, SKETCH2_H)
    boss_extrude2 = extrude(amount=BOSS_EXTRUDE2_DEPTH)

    # Sketch3 → Boss-Extrude3 (add)
    with BuildSketch(Plane.XZ.offset(3)):
        with Locations((1.27, -1.27)):
            Circle(SKETCH3_R)
    boss_extrude3 = extrude(amount=-BOSS_EXTRUDE3_DEPTH)

    # LPattern1: Boss-Extrude1, Boss-Extrude2, Boss-Extrude3 ×21
    with Locations(*[(i * LPATTERN1_PITCH, 0, 0) for i in range(1, LPATTERN1_COUNT)]):
        add(boss_extrude1)
        add(boss_extrude2)
        add(boss_extrude3)


solid = part.part
